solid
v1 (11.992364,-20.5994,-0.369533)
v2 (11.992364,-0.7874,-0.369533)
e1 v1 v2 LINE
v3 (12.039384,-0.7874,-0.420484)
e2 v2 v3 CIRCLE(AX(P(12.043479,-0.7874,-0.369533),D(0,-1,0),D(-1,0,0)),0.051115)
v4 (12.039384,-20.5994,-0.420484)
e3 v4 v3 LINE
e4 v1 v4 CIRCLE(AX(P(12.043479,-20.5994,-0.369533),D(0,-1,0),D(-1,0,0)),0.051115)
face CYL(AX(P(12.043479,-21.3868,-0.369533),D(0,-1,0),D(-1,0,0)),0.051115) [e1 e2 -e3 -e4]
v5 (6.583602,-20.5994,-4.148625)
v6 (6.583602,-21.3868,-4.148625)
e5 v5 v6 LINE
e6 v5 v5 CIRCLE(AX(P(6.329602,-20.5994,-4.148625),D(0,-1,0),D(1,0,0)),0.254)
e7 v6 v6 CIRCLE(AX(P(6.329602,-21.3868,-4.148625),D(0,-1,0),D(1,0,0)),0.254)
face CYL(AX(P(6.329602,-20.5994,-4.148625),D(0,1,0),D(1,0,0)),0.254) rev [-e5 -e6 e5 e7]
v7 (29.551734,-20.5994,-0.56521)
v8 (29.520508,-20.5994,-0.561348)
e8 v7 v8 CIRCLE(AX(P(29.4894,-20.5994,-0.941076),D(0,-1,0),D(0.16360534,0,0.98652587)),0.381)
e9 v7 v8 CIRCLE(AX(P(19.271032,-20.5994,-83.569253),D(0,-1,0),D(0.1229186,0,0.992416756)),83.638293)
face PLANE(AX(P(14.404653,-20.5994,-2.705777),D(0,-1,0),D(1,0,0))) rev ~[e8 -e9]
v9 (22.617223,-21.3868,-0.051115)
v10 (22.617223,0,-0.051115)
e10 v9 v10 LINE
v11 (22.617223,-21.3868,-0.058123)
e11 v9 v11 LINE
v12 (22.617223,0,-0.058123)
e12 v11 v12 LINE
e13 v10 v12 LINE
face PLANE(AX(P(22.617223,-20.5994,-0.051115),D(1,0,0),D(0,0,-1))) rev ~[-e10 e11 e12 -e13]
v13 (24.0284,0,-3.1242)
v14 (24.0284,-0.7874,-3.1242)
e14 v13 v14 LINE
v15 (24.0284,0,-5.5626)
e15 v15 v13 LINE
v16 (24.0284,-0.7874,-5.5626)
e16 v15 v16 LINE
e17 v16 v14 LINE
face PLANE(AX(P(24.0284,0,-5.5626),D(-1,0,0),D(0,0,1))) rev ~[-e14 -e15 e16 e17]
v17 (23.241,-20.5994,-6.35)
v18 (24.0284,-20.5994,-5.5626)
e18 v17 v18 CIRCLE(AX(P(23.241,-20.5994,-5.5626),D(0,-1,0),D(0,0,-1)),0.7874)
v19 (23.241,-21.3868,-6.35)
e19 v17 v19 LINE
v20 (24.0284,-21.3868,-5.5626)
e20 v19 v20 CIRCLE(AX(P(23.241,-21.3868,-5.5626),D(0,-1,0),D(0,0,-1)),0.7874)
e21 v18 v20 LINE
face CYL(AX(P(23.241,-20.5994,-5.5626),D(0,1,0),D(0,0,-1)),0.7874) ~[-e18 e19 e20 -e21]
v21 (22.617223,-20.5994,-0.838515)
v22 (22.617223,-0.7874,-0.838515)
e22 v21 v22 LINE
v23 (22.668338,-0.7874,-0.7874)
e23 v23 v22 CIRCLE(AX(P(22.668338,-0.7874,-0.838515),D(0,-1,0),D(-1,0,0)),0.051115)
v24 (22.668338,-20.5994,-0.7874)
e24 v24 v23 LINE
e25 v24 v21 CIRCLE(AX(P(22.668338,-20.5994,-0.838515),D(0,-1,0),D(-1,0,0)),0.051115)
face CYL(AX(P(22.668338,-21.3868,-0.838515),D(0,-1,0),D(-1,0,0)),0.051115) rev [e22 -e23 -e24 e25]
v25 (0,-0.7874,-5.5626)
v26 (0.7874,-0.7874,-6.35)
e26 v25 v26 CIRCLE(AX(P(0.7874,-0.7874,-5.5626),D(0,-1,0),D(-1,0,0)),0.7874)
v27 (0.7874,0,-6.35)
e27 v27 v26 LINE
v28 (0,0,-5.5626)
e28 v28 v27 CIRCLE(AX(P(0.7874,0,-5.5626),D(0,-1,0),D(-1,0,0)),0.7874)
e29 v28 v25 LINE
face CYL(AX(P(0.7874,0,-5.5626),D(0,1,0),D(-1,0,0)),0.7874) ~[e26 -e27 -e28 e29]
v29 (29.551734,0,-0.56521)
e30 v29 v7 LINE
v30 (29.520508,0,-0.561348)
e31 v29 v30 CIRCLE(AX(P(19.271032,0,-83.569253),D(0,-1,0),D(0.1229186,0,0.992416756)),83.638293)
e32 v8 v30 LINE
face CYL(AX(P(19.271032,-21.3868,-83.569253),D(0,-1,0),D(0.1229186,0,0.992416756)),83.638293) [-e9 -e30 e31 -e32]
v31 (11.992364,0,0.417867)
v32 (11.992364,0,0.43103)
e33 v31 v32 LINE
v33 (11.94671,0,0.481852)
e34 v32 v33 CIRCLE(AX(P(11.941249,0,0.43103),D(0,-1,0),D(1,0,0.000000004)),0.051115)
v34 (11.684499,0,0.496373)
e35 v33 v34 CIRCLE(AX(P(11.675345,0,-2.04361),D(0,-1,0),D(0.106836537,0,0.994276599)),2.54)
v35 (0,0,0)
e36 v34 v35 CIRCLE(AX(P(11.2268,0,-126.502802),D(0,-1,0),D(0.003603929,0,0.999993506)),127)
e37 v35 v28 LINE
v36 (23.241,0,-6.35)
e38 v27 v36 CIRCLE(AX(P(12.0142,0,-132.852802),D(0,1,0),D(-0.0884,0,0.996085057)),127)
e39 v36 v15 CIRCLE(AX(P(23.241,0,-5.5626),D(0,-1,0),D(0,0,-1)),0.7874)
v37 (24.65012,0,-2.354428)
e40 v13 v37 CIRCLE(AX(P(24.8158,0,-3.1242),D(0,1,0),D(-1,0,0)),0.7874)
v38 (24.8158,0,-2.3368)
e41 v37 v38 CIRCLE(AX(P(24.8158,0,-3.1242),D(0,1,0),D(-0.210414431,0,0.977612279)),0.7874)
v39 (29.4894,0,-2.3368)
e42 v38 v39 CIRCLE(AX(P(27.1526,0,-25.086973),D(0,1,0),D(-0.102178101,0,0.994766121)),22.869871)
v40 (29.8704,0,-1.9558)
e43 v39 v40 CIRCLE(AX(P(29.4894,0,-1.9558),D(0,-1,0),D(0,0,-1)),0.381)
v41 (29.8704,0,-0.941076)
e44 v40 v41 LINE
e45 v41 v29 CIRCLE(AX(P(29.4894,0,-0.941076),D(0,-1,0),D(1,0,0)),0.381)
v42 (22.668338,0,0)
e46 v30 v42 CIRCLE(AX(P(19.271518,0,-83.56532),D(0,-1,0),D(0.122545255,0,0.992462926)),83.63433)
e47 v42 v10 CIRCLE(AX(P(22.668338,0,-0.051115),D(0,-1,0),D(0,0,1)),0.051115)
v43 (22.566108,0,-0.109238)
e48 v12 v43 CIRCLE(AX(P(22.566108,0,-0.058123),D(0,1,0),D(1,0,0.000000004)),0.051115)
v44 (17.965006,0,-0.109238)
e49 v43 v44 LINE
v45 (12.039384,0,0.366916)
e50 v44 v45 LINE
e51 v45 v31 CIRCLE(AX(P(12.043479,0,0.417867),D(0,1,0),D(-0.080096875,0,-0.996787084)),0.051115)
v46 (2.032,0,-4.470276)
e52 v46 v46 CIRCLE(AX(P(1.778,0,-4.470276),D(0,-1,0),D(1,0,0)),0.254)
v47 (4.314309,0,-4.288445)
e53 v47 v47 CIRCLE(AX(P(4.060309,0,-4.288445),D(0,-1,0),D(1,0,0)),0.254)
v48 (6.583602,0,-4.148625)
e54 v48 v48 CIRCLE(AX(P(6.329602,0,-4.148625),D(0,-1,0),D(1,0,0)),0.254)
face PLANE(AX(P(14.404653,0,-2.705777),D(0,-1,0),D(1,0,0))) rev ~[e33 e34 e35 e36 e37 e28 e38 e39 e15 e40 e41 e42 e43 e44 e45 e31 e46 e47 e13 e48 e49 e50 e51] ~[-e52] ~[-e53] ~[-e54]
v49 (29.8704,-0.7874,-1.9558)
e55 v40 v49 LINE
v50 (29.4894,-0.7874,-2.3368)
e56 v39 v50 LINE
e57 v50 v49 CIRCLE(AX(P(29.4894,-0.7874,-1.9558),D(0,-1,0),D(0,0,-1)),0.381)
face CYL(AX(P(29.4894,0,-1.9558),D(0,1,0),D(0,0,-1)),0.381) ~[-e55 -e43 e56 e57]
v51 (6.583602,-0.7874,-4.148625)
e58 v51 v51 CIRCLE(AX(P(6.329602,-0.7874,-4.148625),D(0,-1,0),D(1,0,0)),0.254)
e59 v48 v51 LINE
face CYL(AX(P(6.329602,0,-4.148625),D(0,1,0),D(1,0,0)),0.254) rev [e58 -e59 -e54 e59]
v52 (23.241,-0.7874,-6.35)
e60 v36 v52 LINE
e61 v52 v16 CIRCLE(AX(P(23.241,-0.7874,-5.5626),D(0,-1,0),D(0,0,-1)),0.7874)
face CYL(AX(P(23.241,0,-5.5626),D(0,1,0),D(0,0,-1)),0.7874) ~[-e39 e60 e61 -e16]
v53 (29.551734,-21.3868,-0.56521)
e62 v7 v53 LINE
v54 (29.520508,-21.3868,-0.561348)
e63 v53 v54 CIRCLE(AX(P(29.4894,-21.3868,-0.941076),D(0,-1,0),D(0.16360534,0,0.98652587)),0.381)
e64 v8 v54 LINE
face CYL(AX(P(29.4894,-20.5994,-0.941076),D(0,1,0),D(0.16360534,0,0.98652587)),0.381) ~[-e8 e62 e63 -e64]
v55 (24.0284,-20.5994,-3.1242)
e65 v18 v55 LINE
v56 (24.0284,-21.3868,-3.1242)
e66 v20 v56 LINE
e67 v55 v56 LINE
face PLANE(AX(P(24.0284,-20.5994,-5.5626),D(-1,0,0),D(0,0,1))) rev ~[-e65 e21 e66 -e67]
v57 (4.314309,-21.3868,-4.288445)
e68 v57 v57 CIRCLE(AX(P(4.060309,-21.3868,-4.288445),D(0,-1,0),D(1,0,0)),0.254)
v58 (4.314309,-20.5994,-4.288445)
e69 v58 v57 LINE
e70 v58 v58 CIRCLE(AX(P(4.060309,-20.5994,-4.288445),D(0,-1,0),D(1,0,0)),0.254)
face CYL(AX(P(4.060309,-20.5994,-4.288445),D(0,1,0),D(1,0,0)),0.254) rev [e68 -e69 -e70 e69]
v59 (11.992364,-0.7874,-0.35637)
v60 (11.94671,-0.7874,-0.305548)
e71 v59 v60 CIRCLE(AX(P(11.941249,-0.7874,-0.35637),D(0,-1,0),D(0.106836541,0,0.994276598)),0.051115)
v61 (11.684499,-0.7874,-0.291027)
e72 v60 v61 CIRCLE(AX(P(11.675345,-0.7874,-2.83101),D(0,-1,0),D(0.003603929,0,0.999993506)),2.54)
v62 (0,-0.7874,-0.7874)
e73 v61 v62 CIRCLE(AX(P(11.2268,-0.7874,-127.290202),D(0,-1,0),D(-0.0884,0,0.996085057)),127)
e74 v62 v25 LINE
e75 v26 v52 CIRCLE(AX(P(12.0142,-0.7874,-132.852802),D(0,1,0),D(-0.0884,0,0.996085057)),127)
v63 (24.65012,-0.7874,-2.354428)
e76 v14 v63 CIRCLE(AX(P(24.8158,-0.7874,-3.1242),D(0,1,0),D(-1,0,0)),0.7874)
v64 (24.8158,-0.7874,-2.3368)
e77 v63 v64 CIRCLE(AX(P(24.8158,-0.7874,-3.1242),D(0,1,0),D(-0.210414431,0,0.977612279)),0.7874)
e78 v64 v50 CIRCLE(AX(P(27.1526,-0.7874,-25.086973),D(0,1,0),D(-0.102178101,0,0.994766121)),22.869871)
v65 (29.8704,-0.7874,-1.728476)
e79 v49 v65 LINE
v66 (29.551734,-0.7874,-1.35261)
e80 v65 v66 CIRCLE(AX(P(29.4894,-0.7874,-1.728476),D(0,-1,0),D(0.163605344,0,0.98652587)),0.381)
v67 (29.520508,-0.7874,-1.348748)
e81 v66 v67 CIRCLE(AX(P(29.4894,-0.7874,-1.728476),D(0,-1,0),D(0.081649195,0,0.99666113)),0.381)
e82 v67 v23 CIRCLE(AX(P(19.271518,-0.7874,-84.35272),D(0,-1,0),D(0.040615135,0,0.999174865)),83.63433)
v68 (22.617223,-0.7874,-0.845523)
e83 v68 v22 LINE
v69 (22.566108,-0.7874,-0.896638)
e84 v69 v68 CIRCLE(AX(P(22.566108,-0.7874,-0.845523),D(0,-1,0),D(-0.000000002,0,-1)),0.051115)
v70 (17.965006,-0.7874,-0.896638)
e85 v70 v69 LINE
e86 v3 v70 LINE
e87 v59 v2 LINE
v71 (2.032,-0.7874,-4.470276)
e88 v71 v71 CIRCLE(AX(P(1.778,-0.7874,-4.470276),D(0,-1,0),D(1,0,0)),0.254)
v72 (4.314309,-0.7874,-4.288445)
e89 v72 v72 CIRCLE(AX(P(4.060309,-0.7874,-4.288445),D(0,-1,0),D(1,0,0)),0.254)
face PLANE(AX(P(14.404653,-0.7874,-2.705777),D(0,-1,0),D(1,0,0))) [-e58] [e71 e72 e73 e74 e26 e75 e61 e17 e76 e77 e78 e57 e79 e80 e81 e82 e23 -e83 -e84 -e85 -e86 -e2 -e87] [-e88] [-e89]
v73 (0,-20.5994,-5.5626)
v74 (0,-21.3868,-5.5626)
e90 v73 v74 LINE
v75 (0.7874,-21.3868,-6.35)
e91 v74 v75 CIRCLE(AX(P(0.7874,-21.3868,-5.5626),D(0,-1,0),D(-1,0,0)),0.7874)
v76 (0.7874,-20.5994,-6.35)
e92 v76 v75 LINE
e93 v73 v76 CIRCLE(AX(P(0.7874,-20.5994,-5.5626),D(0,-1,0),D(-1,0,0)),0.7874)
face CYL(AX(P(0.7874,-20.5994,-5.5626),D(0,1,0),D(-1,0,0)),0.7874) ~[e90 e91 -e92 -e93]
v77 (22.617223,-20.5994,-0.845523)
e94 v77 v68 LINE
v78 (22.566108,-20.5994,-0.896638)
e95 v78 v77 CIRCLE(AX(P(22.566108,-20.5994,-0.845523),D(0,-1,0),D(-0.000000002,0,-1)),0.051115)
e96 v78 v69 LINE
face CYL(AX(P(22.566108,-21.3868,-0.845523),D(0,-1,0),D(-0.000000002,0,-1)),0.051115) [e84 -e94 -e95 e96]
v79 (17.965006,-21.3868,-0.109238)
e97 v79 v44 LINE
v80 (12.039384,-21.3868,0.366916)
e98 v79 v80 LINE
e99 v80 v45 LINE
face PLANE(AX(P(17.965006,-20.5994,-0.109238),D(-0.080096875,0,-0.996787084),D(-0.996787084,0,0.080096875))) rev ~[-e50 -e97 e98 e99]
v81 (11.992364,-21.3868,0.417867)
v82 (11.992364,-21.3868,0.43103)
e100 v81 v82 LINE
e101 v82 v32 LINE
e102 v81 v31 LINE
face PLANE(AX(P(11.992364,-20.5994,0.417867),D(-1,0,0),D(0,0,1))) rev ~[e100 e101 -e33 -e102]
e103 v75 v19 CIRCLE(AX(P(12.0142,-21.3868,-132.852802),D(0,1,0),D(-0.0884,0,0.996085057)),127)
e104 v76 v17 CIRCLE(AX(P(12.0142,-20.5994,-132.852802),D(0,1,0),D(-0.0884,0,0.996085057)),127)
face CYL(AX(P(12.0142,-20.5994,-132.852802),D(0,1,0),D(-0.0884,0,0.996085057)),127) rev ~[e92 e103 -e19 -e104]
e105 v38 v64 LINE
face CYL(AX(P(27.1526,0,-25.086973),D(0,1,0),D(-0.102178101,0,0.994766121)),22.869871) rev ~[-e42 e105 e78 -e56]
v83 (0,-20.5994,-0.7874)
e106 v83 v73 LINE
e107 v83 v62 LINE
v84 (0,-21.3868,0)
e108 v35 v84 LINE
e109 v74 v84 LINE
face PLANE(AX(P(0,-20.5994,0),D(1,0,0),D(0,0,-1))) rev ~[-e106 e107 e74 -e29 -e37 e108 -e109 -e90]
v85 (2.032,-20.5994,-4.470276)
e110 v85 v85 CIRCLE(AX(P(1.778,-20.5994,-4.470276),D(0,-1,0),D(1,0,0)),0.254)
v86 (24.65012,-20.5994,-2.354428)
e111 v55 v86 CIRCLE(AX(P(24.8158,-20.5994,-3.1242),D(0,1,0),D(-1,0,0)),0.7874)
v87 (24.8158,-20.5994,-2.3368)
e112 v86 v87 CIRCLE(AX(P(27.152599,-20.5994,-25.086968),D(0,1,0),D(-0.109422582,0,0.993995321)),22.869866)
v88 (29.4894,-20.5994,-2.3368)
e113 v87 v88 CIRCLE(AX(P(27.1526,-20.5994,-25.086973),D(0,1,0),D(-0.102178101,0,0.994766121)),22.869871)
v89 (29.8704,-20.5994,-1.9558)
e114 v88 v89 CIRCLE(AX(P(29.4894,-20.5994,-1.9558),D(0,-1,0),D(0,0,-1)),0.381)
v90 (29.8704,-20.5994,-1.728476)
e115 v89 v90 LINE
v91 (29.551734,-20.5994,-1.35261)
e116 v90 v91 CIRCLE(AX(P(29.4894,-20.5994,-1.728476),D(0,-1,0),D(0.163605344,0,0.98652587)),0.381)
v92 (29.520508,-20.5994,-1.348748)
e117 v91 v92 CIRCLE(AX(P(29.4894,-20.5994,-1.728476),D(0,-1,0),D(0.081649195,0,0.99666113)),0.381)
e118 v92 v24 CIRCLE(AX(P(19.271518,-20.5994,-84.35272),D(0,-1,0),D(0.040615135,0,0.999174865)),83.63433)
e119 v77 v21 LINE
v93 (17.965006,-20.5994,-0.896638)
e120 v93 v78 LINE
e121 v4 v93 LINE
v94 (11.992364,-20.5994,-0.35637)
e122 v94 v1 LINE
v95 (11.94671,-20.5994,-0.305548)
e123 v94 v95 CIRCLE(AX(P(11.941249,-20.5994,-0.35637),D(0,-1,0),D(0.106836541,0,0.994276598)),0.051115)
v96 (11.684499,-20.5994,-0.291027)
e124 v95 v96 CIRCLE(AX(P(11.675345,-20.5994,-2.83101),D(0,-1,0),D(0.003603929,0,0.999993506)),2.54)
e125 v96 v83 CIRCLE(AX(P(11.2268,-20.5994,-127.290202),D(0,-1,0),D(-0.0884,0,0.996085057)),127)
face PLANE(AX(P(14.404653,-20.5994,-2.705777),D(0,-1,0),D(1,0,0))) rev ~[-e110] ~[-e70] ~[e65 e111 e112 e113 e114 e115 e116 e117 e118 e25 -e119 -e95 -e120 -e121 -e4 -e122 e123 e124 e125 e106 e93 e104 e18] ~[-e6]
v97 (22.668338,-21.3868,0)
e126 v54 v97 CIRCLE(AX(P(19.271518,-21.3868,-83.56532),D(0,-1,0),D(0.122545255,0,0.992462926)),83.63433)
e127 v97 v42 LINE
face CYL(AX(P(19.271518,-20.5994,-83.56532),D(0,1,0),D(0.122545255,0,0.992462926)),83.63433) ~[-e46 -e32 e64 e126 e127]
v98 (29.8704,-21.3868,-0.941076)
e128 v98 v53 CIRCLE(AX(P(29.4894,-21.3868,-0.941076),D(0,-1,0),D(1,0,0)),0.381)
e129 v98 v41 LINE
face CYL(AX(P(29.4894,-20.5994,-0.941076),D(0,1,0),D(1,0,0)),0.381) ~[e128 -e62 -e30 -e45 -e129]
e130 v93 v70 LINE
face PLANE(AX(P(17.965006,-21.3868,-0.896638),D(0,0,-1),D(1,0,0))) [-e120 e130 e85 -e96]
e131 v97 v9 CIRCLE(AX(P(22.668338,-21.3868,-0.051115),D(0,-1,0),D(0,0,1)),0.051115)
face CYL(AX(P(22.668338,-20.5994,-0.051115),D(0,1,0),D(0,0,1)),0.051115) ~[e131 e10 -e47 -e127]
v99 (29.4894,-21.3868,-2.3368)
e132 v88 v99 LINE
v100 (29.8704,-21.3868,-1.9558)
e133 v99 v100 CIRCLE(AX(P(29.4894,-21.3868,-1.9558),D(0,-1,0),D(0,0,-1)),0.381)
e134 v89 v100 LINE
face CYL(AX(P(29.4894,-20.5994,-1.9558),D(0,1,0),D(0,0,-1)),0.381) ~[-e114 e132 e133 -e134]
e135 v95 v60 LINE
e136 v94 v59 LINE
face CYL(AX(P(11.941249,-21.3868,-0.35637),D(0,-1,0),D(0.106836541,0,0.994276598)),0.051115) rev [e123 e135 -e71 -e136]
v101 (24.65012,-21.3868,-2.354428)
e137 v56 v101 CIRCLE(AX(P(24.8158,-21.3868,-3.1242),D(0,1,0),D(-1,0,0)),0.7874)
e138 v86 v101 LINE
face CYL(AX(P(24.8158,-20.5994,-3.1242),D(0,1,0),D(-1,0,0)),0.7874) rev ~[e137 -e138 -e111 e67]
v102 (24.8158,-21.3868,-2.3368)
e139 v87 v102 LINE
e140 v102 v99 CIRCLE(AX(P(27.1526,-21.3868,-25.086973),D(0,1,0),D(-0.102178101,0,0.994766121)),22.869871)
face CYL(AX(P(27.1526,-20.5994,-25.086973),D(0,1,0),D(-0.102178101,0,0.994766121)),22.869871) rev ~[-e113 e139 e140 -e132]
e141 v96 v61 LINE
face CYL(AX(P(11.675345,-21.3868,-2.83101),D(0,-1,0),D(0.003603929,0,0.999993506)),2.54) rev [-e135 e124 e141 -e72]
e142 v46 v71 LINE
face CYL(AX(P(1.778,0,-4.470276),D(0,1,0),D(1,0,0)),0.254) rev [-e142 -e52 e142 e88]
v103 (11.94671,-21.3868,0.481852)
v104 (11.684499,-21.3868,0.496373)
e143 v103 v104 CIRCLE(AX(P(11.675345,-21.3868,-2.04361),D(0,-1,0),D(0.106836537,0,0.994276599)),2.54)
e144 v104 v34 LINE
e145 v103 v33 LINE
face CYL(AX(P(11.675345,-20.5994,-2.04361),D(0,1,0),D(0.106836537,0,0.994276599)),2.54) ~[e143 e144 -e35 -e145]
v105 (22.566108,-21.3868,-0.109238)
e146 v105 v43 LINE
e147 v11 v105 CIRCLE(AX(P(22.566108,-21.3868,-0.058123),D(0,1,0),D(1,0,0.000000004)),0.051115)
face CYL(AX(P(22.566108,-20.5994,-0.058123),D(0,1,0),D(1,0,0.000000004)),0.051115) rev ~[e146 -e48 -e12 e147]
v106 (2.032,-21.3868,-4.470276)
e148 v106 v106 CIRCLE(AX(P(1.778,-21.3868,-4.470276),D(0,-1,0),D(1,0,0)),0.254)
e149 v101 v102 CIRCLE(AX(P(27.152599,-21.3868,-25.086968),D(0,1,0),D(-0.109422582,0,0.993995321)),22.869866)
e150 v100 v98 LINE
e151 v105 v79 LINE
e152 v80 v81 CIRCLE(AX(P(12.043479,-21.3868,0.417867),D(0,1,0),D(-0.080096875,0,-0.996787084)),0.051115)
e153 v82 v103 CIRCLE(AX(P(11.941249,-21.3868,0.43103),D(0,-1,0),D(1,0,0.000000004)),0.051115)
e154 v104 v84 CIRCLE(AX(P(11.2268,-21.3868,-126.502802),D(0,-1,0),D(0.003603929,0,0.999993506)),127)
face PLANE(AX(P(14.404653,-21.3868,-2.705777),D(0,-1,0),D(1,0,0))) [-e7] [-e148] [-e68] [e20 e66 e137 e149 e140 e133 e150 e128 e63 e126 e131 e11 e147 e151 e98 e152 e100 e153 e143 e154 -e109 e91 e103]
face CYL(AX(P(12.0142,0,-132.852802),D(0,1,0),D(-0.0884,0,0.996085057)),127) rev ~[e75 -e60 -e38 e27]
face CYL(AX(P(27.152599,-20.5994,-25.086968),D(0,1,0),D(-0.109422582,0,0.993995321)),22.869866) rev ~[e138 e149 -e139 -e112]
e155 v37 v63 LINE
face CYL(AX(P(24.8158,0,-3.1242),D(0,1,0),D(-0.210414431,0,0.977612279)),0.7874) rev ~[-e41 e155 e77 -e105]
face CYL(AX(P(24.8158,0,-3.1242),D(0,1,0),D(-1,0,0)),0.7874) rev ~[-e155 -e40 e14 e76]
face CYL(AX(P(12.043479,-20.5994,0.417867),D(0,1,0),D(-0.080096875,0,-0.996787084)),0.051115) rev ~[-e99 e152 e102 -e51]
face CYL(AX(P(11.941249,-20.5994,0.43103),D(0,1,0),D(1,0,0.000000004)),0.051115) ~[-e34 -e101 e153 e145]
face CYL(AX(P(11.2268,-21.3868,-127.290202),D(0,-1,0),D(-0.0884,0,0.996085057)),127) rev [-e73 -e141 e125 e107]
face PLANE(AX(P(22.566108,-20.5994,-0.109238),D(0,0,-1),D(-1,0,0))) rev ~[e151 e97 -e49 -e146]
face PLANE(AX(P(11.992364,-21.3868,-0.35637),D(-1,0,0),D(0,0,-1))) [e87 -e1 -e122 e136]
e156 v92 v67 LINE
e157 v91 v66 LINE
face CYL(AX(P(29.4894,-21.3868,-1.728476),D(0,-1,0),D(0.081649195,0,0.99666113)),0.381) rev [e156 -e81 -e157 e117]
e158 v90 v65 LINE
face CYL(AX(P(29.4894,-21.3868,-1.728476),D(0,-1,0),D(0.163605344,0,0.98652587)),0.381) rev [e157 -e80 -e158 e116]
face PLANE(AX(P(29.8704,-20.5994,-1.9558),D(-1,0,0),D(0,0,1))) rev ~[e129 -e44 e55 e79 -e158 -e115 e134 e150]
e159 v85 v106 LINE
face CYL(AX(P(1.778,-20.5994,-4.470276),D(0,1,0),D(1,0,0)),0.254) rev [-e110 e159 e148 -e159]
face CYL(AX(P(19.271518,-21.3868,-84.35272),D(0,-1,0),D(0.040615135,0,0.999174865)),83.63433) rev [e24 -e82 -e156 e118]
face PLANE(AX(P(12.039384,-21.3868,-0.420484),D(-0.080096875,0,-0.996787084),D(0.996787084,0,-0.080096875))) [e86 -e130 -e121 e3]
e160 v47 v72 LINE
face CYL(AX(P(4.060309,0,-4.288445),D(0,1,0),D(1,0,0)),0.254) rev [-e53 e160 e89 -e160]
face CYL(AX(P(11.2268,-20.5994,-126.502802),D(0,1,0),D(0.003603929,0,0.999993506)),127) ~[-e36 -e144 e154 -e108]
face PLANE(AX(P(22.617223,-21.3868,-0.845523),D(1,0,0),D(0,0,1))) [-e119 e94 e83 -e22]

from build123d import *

# Parameters (mm, degrees)
F0_R     = 0.254
F1_DEPTH = 0.7874
F3_R     = 0.254
F4_DEPTH = 0.7874
F6_DEPTH = 20.828


with BuildPart() as f1:
    # F0 (on Front) → F1 (new body)
    with BuildSketch(Plane.XZ):
        with BuildLine():
            ThreePointArc((11.6844989808, 0.4963730507), (5.8365327764, 0.3827565605), (0, 0))
            Line((0, 0), (0, -5.5626))
            ThreePointArc((0, -5.5626), (0.2306241205, -6.1193758795), (0.7874, -6.35))
            ThreePointArc((0.7874, -6.35), (12.0142, -5.8528021894), (23.241, -6.35))
            ThreePointArc((23.241, -6.35), (23.7977758795, -6.1193758795), (24.0284, -5.5626))
            Line((24.0284, -5.5626), (24.0284, -3.1242))
            ThreePointArc((24.0284, -3.1242), (24.2032416576, -2.6294565946), (24.6501196779, -2.3544280917))
            ThreePointArc((24.6501196779, -2.3544280917), (24.7324922592, -2.3412194253), (24.8158, -2.3368))
            ThreePointArc((24.8158, -2.3368), (27.1526, -2.2171018645), (29.4894, -2.3368))
            ThreePointArc((29.4894, -2.3368), (29.7588076836, -2.2252076836), (29.8704, -1.9558))
            Line((29.8704, -1.9558), (29.8704, -0.9410763709))
            ThreePointArc((29.8704, -0.9410763709), (29.7800115236, -0.6946906116), (29.551733636, -0.5652100145))
            ThreePointArc((29.551733636, -0.5652100145), (29.5361211708, -0.563277779), (29.5205083425, -0.5613484801))
            ThreePointArc((29.5205083425, -0.5613484801), (26.1001935921, -0.2102344907), (22.6683376095, 0))
            ThreePointArc((22.6683376095, 0), (22.6321939395, -0.0149711983), (22.6172227412, -0.0511148683))
            Line((22.6172227412, -0.0511148683), (22.6172227412, -0.0581227141))
            ThreePointArc((22.6172227412, -0.0581227141), (22.602251543, -0.0942663841), (22.566107873, -0.1092375824))
            Line((22.566107873, -0.1092375824), (17.9650057107, -0.1092375824))
            Line((17.9650057107, -0.1092375824), (12.0393844661, 0.3669160007))
            ThreePointArc((12.0393844661, 0.3669160007), (12.0059153191, 0.3832006761), (11.9923637391, 0.4178666411))
            Line((11.9923637391, 0.4178666411), (11.9923637391, 0.4310297886))
            ThreePointArc((11.9923637391, 0.4310297886), (11.9792742883, 0.4651882045), (11.9467098063, 0.481852106))
            ThreePointArc((11.9467098063, 0.481852106), (11.8157921856, 0.4925036183), (11.6844989808, 0.4963730507))
        make_face()
        with Locations((1.778, -4.4702755668)):
            Circle(F0_R, mode=Mode.SUBTRACT)
        with Locations((4.0603091472, -4.2884453677)):
            Circle(F0_R, mode=Mode.SUBTRACT)
        with Locations((6.3296015834, -4.1486253579)):
            Circle(F0_R, mode=Mode.SUBTRACT)
    extrude(amount=F1_DEPTH)



with BuildPart() as f4:
    # F3 (on offset) → F4 (new body)
    with BuildSketch(Plane.XZ.offset(20.5994)):
        with BuildLine():
            ThreePointArc((11.6844989808, 0.4963730507), (5.8365327764, 0.3827565605), (0, 0))
            Line((0, 0), (0, -5.5626))
            ThreePointArc((0, -5.5626), (0.2306241205, -6.1193758795), (0.7874, -6.35))
            ThreePointArc((0.7874, -6.35), (12.0142, -5.8528021894), (23.241, -6.35))
            ThreePointArc((23.241, -6.35), (23.7977758795, -6.1193758795), (24.0284, -5.5626))
            Line((24.0284, -5.5626), (24.0284, -3.1242))
            ThreePointArc((24.0284, -3.1242), (24.2032416576, -2.6294565946), (24.6501196779, -2.3544280917))
            ThreePointArc((24.6501196779, -2.3544280917), (24.7324922592, -2.3412194253), (24.8158, -2.3368))
            ThreePointArc((24.8158, -2.3368), (27.1526, -2.2171018645), (29.4894, -2.3368))
            ThreePointArc((29.4894, -2.3368), (29.7588076836, -2.2252076836), (29.8704, -1.9558))
            Line((29.8704, -1.9558), (29.8704, -0.9410763709))
            ThreePointArc((29.8704, -0.9410763709), (29.7800115236, -0.6946906116), (29.551733636, -0.5652100145))
            ThreePointArc((29.551733636, -0.5652100145), (29.5361211708, -0.563277779), (29.5205083425, -0.5613484801))
            ThreePointArc((29.5205083425, -0.5613484801), (26.1001935921, -0.2102344907), (22.6683376095, 0))
            ThreePointArc((22.6683376095, 0), (22.6321939395, -0.0149711983), (22.6172227412, -0.0511148683))
            Line((22.6172227412, -0.0511148683), (22.6172227412, -0.0581227141))
            ThreePointArc((22.6172227412, -0.0581227141), (22.602251543, -0.0942663841), (22.566107873, -0.1092375824))
            Line((22.566107873, -0.1092375824), (17.9650057107, -0.1092375824))
            Line((17.9650057107, -0.1092375824), (12.0393844661, 0.3669160007))
            ThreePointArc((12.0393844661, 0.3669160007), (12.0059153191, 0.3832006761), (11.9923637391, 0.4178666411))
            Line((11.9923637391, 0.4178666411), (11.9923637391, 0.4310297886))
            ThreePointArc((11.9923637391, 0.4310297886), (11.9792742883, 0.4651882045), (11.9467098063, 0.481852106))
            ThreePointArc((11.9467098063, 0.481852106), (11.8157921856, 0.4925036183), (11.6844989808, 0.4963730507))
        make_face()
        with Locations((1.778, -4.4702755668)):
            Circle(F3_R, mode=Mode.SUBTRACT)
        with Locations((4.0603091472, -4.2884453677)):
            Circle(F3_R, mode=Mode.SUBTRACT)
        with Locations((6.3296015834, -4.1486253579)):
            Circle(F3_R, mode=Mode.SUBTRACT)
        with BuildLine():
            ThreePointArc((24.8158, -2.3368), (24.7324922592, -2.3412194253), (24.6501196779, -2.3544280917))
            ThreePointArc((24.6501196779, -2.3544280917), (24.7329437855, -2.345463165), (24.8158, -2.3368))
        make_face()
        with BuildLine():
            ThreePointArc((29.5205083425, -0.5613484801), (29.5361211708, -0.563277779), (29.551733636, -0.5652100145))
            ThreePointArc((29.551733636, -0.5652100145), (29.5361608672, -0.5629567849), (29.5205083425, -0.5613484801))
        make_face()
    extrude(amount=F4_DEPTH)


with BuildPart() as f1_1:
    add(f1.part)

    add(f4.part)  # F6 merges F4
    # F5 (on face) → F6 (join)
    with BuildSketch(Plane.XZ.offset(21.3868)):
        with BuildLine():
            ThreePointArc((29.551733636, -1.3526100145), (29.7800115236, -1.4820906116), (29.8704, -1.7284763709))
            Line((29.8704, -1.7284763709), (29.8704, -0.9410763709))
            ThreePointArc((29.8704, -0.9410763709), (29.7800115236, -0.6946906116), (29.551733636, -0.5652100145))
            ThreePointArc((29.551733636, -0.5652100145), (29.5361211708, -0.563277779), (29.5205083425, -0.5613484801))
            ThreePointArc((29.5205083425, -0.5613484801), (26.1001935921, -0.2102344907), (22.6683376095, 0))
            ThreePointArc((22.6683376095, 0), (22.6321939395, -0.0149711983), (22.6172227412, -0.0511148683))
            Line((22.6172227412, -0.0511148683), (22.6172227412, -0.0581227141))
            ThreePointArc((22.6172227412, -0.0581227141), (22.602251543, -0.0942663841), (22.566107873, -0.1092375824))
            Line((22.566107873, -0.1092375824), (17.9650057107, -0.1092375824))
            Line((17.9650057107, -0.1092375824), (12.0393844661, 0.3669160007))
            ThreePointArc((12.0393844661, 0.3669160007), (12.0059153191, 0.3832006761), (11.9923637391, 0.4178666411))
            Line((11.9923637391, 0.4178666411), (11.9923637391, 0.4310297886))
            ThreePointArc((11.9923637391, 0.4310297886), (11.9792742883, 0.4651882045), (11.9467098063, 0.481852106))
            ThreePointArc((11.9467098063, 0.481852106), (11.8157921856, 0.4925036183), (11.6844989808, 0.4963730507))
            ThreePointArc((11.6844989808, 0.4963730507), (5.8365327764, 0.3827565605), (0, 0))
            Line((0, 0), (0, -0.7874))
            ThreePointArc((0, -0.7874), (5.8365327764, -0.4046434395), (11.6844989808, -0.2910269493))
            ThreePointArc((11.6844989808, -0.2910269493), (11.8157921856, -0.2948963817), (11.9467098063, -0.305547894))
            ThreePointArc((11.9467098063, -0.305547894), (11.9792742883, -0.3222117955), (11.9923637391, -0.3563702114))
            Line((11.9923637391, -0.3563702114), (11.9923637391, -0.3695333589))
            ThreePointArc((11.9923637391, -0.3695333589), (12.0059153191, -0.4041993239), (12.0393844661, -0.4204839993))
            Line((12.0393844661, -0.4204839993), (17.9650057107, -0.8966375824))
            Line((17.9650057107, -0.8966375824), (22.566107873, -0.8966375824))
            ThreePointArc((22.566107873, -0.8966375824), (22.602251543, -0.8816663841), (22.6172227412, -0.8455227141))
            Line((22.6172227412, -0.8455227141), (22.6172227412, -0.8385148683))
            ThreePointArc((22.6172227412, -0.8385148683), (22.6321939395, -0.8023711983), (22.6683376095, -0.7874))
            ThreePointArc((22.6683376095, -0.7874), (26.1001935921, -0.9976344907), (29.5205083425, -1.3487484801))
            ThreePointArc((29.5205083425, -1.3487484801), (29.5361608672, -1.3503567849), (29.551733636, -1.3526100145))
        make_face()
    extrude(amount=-F6_DEPTH)


solid = f1_1.part
